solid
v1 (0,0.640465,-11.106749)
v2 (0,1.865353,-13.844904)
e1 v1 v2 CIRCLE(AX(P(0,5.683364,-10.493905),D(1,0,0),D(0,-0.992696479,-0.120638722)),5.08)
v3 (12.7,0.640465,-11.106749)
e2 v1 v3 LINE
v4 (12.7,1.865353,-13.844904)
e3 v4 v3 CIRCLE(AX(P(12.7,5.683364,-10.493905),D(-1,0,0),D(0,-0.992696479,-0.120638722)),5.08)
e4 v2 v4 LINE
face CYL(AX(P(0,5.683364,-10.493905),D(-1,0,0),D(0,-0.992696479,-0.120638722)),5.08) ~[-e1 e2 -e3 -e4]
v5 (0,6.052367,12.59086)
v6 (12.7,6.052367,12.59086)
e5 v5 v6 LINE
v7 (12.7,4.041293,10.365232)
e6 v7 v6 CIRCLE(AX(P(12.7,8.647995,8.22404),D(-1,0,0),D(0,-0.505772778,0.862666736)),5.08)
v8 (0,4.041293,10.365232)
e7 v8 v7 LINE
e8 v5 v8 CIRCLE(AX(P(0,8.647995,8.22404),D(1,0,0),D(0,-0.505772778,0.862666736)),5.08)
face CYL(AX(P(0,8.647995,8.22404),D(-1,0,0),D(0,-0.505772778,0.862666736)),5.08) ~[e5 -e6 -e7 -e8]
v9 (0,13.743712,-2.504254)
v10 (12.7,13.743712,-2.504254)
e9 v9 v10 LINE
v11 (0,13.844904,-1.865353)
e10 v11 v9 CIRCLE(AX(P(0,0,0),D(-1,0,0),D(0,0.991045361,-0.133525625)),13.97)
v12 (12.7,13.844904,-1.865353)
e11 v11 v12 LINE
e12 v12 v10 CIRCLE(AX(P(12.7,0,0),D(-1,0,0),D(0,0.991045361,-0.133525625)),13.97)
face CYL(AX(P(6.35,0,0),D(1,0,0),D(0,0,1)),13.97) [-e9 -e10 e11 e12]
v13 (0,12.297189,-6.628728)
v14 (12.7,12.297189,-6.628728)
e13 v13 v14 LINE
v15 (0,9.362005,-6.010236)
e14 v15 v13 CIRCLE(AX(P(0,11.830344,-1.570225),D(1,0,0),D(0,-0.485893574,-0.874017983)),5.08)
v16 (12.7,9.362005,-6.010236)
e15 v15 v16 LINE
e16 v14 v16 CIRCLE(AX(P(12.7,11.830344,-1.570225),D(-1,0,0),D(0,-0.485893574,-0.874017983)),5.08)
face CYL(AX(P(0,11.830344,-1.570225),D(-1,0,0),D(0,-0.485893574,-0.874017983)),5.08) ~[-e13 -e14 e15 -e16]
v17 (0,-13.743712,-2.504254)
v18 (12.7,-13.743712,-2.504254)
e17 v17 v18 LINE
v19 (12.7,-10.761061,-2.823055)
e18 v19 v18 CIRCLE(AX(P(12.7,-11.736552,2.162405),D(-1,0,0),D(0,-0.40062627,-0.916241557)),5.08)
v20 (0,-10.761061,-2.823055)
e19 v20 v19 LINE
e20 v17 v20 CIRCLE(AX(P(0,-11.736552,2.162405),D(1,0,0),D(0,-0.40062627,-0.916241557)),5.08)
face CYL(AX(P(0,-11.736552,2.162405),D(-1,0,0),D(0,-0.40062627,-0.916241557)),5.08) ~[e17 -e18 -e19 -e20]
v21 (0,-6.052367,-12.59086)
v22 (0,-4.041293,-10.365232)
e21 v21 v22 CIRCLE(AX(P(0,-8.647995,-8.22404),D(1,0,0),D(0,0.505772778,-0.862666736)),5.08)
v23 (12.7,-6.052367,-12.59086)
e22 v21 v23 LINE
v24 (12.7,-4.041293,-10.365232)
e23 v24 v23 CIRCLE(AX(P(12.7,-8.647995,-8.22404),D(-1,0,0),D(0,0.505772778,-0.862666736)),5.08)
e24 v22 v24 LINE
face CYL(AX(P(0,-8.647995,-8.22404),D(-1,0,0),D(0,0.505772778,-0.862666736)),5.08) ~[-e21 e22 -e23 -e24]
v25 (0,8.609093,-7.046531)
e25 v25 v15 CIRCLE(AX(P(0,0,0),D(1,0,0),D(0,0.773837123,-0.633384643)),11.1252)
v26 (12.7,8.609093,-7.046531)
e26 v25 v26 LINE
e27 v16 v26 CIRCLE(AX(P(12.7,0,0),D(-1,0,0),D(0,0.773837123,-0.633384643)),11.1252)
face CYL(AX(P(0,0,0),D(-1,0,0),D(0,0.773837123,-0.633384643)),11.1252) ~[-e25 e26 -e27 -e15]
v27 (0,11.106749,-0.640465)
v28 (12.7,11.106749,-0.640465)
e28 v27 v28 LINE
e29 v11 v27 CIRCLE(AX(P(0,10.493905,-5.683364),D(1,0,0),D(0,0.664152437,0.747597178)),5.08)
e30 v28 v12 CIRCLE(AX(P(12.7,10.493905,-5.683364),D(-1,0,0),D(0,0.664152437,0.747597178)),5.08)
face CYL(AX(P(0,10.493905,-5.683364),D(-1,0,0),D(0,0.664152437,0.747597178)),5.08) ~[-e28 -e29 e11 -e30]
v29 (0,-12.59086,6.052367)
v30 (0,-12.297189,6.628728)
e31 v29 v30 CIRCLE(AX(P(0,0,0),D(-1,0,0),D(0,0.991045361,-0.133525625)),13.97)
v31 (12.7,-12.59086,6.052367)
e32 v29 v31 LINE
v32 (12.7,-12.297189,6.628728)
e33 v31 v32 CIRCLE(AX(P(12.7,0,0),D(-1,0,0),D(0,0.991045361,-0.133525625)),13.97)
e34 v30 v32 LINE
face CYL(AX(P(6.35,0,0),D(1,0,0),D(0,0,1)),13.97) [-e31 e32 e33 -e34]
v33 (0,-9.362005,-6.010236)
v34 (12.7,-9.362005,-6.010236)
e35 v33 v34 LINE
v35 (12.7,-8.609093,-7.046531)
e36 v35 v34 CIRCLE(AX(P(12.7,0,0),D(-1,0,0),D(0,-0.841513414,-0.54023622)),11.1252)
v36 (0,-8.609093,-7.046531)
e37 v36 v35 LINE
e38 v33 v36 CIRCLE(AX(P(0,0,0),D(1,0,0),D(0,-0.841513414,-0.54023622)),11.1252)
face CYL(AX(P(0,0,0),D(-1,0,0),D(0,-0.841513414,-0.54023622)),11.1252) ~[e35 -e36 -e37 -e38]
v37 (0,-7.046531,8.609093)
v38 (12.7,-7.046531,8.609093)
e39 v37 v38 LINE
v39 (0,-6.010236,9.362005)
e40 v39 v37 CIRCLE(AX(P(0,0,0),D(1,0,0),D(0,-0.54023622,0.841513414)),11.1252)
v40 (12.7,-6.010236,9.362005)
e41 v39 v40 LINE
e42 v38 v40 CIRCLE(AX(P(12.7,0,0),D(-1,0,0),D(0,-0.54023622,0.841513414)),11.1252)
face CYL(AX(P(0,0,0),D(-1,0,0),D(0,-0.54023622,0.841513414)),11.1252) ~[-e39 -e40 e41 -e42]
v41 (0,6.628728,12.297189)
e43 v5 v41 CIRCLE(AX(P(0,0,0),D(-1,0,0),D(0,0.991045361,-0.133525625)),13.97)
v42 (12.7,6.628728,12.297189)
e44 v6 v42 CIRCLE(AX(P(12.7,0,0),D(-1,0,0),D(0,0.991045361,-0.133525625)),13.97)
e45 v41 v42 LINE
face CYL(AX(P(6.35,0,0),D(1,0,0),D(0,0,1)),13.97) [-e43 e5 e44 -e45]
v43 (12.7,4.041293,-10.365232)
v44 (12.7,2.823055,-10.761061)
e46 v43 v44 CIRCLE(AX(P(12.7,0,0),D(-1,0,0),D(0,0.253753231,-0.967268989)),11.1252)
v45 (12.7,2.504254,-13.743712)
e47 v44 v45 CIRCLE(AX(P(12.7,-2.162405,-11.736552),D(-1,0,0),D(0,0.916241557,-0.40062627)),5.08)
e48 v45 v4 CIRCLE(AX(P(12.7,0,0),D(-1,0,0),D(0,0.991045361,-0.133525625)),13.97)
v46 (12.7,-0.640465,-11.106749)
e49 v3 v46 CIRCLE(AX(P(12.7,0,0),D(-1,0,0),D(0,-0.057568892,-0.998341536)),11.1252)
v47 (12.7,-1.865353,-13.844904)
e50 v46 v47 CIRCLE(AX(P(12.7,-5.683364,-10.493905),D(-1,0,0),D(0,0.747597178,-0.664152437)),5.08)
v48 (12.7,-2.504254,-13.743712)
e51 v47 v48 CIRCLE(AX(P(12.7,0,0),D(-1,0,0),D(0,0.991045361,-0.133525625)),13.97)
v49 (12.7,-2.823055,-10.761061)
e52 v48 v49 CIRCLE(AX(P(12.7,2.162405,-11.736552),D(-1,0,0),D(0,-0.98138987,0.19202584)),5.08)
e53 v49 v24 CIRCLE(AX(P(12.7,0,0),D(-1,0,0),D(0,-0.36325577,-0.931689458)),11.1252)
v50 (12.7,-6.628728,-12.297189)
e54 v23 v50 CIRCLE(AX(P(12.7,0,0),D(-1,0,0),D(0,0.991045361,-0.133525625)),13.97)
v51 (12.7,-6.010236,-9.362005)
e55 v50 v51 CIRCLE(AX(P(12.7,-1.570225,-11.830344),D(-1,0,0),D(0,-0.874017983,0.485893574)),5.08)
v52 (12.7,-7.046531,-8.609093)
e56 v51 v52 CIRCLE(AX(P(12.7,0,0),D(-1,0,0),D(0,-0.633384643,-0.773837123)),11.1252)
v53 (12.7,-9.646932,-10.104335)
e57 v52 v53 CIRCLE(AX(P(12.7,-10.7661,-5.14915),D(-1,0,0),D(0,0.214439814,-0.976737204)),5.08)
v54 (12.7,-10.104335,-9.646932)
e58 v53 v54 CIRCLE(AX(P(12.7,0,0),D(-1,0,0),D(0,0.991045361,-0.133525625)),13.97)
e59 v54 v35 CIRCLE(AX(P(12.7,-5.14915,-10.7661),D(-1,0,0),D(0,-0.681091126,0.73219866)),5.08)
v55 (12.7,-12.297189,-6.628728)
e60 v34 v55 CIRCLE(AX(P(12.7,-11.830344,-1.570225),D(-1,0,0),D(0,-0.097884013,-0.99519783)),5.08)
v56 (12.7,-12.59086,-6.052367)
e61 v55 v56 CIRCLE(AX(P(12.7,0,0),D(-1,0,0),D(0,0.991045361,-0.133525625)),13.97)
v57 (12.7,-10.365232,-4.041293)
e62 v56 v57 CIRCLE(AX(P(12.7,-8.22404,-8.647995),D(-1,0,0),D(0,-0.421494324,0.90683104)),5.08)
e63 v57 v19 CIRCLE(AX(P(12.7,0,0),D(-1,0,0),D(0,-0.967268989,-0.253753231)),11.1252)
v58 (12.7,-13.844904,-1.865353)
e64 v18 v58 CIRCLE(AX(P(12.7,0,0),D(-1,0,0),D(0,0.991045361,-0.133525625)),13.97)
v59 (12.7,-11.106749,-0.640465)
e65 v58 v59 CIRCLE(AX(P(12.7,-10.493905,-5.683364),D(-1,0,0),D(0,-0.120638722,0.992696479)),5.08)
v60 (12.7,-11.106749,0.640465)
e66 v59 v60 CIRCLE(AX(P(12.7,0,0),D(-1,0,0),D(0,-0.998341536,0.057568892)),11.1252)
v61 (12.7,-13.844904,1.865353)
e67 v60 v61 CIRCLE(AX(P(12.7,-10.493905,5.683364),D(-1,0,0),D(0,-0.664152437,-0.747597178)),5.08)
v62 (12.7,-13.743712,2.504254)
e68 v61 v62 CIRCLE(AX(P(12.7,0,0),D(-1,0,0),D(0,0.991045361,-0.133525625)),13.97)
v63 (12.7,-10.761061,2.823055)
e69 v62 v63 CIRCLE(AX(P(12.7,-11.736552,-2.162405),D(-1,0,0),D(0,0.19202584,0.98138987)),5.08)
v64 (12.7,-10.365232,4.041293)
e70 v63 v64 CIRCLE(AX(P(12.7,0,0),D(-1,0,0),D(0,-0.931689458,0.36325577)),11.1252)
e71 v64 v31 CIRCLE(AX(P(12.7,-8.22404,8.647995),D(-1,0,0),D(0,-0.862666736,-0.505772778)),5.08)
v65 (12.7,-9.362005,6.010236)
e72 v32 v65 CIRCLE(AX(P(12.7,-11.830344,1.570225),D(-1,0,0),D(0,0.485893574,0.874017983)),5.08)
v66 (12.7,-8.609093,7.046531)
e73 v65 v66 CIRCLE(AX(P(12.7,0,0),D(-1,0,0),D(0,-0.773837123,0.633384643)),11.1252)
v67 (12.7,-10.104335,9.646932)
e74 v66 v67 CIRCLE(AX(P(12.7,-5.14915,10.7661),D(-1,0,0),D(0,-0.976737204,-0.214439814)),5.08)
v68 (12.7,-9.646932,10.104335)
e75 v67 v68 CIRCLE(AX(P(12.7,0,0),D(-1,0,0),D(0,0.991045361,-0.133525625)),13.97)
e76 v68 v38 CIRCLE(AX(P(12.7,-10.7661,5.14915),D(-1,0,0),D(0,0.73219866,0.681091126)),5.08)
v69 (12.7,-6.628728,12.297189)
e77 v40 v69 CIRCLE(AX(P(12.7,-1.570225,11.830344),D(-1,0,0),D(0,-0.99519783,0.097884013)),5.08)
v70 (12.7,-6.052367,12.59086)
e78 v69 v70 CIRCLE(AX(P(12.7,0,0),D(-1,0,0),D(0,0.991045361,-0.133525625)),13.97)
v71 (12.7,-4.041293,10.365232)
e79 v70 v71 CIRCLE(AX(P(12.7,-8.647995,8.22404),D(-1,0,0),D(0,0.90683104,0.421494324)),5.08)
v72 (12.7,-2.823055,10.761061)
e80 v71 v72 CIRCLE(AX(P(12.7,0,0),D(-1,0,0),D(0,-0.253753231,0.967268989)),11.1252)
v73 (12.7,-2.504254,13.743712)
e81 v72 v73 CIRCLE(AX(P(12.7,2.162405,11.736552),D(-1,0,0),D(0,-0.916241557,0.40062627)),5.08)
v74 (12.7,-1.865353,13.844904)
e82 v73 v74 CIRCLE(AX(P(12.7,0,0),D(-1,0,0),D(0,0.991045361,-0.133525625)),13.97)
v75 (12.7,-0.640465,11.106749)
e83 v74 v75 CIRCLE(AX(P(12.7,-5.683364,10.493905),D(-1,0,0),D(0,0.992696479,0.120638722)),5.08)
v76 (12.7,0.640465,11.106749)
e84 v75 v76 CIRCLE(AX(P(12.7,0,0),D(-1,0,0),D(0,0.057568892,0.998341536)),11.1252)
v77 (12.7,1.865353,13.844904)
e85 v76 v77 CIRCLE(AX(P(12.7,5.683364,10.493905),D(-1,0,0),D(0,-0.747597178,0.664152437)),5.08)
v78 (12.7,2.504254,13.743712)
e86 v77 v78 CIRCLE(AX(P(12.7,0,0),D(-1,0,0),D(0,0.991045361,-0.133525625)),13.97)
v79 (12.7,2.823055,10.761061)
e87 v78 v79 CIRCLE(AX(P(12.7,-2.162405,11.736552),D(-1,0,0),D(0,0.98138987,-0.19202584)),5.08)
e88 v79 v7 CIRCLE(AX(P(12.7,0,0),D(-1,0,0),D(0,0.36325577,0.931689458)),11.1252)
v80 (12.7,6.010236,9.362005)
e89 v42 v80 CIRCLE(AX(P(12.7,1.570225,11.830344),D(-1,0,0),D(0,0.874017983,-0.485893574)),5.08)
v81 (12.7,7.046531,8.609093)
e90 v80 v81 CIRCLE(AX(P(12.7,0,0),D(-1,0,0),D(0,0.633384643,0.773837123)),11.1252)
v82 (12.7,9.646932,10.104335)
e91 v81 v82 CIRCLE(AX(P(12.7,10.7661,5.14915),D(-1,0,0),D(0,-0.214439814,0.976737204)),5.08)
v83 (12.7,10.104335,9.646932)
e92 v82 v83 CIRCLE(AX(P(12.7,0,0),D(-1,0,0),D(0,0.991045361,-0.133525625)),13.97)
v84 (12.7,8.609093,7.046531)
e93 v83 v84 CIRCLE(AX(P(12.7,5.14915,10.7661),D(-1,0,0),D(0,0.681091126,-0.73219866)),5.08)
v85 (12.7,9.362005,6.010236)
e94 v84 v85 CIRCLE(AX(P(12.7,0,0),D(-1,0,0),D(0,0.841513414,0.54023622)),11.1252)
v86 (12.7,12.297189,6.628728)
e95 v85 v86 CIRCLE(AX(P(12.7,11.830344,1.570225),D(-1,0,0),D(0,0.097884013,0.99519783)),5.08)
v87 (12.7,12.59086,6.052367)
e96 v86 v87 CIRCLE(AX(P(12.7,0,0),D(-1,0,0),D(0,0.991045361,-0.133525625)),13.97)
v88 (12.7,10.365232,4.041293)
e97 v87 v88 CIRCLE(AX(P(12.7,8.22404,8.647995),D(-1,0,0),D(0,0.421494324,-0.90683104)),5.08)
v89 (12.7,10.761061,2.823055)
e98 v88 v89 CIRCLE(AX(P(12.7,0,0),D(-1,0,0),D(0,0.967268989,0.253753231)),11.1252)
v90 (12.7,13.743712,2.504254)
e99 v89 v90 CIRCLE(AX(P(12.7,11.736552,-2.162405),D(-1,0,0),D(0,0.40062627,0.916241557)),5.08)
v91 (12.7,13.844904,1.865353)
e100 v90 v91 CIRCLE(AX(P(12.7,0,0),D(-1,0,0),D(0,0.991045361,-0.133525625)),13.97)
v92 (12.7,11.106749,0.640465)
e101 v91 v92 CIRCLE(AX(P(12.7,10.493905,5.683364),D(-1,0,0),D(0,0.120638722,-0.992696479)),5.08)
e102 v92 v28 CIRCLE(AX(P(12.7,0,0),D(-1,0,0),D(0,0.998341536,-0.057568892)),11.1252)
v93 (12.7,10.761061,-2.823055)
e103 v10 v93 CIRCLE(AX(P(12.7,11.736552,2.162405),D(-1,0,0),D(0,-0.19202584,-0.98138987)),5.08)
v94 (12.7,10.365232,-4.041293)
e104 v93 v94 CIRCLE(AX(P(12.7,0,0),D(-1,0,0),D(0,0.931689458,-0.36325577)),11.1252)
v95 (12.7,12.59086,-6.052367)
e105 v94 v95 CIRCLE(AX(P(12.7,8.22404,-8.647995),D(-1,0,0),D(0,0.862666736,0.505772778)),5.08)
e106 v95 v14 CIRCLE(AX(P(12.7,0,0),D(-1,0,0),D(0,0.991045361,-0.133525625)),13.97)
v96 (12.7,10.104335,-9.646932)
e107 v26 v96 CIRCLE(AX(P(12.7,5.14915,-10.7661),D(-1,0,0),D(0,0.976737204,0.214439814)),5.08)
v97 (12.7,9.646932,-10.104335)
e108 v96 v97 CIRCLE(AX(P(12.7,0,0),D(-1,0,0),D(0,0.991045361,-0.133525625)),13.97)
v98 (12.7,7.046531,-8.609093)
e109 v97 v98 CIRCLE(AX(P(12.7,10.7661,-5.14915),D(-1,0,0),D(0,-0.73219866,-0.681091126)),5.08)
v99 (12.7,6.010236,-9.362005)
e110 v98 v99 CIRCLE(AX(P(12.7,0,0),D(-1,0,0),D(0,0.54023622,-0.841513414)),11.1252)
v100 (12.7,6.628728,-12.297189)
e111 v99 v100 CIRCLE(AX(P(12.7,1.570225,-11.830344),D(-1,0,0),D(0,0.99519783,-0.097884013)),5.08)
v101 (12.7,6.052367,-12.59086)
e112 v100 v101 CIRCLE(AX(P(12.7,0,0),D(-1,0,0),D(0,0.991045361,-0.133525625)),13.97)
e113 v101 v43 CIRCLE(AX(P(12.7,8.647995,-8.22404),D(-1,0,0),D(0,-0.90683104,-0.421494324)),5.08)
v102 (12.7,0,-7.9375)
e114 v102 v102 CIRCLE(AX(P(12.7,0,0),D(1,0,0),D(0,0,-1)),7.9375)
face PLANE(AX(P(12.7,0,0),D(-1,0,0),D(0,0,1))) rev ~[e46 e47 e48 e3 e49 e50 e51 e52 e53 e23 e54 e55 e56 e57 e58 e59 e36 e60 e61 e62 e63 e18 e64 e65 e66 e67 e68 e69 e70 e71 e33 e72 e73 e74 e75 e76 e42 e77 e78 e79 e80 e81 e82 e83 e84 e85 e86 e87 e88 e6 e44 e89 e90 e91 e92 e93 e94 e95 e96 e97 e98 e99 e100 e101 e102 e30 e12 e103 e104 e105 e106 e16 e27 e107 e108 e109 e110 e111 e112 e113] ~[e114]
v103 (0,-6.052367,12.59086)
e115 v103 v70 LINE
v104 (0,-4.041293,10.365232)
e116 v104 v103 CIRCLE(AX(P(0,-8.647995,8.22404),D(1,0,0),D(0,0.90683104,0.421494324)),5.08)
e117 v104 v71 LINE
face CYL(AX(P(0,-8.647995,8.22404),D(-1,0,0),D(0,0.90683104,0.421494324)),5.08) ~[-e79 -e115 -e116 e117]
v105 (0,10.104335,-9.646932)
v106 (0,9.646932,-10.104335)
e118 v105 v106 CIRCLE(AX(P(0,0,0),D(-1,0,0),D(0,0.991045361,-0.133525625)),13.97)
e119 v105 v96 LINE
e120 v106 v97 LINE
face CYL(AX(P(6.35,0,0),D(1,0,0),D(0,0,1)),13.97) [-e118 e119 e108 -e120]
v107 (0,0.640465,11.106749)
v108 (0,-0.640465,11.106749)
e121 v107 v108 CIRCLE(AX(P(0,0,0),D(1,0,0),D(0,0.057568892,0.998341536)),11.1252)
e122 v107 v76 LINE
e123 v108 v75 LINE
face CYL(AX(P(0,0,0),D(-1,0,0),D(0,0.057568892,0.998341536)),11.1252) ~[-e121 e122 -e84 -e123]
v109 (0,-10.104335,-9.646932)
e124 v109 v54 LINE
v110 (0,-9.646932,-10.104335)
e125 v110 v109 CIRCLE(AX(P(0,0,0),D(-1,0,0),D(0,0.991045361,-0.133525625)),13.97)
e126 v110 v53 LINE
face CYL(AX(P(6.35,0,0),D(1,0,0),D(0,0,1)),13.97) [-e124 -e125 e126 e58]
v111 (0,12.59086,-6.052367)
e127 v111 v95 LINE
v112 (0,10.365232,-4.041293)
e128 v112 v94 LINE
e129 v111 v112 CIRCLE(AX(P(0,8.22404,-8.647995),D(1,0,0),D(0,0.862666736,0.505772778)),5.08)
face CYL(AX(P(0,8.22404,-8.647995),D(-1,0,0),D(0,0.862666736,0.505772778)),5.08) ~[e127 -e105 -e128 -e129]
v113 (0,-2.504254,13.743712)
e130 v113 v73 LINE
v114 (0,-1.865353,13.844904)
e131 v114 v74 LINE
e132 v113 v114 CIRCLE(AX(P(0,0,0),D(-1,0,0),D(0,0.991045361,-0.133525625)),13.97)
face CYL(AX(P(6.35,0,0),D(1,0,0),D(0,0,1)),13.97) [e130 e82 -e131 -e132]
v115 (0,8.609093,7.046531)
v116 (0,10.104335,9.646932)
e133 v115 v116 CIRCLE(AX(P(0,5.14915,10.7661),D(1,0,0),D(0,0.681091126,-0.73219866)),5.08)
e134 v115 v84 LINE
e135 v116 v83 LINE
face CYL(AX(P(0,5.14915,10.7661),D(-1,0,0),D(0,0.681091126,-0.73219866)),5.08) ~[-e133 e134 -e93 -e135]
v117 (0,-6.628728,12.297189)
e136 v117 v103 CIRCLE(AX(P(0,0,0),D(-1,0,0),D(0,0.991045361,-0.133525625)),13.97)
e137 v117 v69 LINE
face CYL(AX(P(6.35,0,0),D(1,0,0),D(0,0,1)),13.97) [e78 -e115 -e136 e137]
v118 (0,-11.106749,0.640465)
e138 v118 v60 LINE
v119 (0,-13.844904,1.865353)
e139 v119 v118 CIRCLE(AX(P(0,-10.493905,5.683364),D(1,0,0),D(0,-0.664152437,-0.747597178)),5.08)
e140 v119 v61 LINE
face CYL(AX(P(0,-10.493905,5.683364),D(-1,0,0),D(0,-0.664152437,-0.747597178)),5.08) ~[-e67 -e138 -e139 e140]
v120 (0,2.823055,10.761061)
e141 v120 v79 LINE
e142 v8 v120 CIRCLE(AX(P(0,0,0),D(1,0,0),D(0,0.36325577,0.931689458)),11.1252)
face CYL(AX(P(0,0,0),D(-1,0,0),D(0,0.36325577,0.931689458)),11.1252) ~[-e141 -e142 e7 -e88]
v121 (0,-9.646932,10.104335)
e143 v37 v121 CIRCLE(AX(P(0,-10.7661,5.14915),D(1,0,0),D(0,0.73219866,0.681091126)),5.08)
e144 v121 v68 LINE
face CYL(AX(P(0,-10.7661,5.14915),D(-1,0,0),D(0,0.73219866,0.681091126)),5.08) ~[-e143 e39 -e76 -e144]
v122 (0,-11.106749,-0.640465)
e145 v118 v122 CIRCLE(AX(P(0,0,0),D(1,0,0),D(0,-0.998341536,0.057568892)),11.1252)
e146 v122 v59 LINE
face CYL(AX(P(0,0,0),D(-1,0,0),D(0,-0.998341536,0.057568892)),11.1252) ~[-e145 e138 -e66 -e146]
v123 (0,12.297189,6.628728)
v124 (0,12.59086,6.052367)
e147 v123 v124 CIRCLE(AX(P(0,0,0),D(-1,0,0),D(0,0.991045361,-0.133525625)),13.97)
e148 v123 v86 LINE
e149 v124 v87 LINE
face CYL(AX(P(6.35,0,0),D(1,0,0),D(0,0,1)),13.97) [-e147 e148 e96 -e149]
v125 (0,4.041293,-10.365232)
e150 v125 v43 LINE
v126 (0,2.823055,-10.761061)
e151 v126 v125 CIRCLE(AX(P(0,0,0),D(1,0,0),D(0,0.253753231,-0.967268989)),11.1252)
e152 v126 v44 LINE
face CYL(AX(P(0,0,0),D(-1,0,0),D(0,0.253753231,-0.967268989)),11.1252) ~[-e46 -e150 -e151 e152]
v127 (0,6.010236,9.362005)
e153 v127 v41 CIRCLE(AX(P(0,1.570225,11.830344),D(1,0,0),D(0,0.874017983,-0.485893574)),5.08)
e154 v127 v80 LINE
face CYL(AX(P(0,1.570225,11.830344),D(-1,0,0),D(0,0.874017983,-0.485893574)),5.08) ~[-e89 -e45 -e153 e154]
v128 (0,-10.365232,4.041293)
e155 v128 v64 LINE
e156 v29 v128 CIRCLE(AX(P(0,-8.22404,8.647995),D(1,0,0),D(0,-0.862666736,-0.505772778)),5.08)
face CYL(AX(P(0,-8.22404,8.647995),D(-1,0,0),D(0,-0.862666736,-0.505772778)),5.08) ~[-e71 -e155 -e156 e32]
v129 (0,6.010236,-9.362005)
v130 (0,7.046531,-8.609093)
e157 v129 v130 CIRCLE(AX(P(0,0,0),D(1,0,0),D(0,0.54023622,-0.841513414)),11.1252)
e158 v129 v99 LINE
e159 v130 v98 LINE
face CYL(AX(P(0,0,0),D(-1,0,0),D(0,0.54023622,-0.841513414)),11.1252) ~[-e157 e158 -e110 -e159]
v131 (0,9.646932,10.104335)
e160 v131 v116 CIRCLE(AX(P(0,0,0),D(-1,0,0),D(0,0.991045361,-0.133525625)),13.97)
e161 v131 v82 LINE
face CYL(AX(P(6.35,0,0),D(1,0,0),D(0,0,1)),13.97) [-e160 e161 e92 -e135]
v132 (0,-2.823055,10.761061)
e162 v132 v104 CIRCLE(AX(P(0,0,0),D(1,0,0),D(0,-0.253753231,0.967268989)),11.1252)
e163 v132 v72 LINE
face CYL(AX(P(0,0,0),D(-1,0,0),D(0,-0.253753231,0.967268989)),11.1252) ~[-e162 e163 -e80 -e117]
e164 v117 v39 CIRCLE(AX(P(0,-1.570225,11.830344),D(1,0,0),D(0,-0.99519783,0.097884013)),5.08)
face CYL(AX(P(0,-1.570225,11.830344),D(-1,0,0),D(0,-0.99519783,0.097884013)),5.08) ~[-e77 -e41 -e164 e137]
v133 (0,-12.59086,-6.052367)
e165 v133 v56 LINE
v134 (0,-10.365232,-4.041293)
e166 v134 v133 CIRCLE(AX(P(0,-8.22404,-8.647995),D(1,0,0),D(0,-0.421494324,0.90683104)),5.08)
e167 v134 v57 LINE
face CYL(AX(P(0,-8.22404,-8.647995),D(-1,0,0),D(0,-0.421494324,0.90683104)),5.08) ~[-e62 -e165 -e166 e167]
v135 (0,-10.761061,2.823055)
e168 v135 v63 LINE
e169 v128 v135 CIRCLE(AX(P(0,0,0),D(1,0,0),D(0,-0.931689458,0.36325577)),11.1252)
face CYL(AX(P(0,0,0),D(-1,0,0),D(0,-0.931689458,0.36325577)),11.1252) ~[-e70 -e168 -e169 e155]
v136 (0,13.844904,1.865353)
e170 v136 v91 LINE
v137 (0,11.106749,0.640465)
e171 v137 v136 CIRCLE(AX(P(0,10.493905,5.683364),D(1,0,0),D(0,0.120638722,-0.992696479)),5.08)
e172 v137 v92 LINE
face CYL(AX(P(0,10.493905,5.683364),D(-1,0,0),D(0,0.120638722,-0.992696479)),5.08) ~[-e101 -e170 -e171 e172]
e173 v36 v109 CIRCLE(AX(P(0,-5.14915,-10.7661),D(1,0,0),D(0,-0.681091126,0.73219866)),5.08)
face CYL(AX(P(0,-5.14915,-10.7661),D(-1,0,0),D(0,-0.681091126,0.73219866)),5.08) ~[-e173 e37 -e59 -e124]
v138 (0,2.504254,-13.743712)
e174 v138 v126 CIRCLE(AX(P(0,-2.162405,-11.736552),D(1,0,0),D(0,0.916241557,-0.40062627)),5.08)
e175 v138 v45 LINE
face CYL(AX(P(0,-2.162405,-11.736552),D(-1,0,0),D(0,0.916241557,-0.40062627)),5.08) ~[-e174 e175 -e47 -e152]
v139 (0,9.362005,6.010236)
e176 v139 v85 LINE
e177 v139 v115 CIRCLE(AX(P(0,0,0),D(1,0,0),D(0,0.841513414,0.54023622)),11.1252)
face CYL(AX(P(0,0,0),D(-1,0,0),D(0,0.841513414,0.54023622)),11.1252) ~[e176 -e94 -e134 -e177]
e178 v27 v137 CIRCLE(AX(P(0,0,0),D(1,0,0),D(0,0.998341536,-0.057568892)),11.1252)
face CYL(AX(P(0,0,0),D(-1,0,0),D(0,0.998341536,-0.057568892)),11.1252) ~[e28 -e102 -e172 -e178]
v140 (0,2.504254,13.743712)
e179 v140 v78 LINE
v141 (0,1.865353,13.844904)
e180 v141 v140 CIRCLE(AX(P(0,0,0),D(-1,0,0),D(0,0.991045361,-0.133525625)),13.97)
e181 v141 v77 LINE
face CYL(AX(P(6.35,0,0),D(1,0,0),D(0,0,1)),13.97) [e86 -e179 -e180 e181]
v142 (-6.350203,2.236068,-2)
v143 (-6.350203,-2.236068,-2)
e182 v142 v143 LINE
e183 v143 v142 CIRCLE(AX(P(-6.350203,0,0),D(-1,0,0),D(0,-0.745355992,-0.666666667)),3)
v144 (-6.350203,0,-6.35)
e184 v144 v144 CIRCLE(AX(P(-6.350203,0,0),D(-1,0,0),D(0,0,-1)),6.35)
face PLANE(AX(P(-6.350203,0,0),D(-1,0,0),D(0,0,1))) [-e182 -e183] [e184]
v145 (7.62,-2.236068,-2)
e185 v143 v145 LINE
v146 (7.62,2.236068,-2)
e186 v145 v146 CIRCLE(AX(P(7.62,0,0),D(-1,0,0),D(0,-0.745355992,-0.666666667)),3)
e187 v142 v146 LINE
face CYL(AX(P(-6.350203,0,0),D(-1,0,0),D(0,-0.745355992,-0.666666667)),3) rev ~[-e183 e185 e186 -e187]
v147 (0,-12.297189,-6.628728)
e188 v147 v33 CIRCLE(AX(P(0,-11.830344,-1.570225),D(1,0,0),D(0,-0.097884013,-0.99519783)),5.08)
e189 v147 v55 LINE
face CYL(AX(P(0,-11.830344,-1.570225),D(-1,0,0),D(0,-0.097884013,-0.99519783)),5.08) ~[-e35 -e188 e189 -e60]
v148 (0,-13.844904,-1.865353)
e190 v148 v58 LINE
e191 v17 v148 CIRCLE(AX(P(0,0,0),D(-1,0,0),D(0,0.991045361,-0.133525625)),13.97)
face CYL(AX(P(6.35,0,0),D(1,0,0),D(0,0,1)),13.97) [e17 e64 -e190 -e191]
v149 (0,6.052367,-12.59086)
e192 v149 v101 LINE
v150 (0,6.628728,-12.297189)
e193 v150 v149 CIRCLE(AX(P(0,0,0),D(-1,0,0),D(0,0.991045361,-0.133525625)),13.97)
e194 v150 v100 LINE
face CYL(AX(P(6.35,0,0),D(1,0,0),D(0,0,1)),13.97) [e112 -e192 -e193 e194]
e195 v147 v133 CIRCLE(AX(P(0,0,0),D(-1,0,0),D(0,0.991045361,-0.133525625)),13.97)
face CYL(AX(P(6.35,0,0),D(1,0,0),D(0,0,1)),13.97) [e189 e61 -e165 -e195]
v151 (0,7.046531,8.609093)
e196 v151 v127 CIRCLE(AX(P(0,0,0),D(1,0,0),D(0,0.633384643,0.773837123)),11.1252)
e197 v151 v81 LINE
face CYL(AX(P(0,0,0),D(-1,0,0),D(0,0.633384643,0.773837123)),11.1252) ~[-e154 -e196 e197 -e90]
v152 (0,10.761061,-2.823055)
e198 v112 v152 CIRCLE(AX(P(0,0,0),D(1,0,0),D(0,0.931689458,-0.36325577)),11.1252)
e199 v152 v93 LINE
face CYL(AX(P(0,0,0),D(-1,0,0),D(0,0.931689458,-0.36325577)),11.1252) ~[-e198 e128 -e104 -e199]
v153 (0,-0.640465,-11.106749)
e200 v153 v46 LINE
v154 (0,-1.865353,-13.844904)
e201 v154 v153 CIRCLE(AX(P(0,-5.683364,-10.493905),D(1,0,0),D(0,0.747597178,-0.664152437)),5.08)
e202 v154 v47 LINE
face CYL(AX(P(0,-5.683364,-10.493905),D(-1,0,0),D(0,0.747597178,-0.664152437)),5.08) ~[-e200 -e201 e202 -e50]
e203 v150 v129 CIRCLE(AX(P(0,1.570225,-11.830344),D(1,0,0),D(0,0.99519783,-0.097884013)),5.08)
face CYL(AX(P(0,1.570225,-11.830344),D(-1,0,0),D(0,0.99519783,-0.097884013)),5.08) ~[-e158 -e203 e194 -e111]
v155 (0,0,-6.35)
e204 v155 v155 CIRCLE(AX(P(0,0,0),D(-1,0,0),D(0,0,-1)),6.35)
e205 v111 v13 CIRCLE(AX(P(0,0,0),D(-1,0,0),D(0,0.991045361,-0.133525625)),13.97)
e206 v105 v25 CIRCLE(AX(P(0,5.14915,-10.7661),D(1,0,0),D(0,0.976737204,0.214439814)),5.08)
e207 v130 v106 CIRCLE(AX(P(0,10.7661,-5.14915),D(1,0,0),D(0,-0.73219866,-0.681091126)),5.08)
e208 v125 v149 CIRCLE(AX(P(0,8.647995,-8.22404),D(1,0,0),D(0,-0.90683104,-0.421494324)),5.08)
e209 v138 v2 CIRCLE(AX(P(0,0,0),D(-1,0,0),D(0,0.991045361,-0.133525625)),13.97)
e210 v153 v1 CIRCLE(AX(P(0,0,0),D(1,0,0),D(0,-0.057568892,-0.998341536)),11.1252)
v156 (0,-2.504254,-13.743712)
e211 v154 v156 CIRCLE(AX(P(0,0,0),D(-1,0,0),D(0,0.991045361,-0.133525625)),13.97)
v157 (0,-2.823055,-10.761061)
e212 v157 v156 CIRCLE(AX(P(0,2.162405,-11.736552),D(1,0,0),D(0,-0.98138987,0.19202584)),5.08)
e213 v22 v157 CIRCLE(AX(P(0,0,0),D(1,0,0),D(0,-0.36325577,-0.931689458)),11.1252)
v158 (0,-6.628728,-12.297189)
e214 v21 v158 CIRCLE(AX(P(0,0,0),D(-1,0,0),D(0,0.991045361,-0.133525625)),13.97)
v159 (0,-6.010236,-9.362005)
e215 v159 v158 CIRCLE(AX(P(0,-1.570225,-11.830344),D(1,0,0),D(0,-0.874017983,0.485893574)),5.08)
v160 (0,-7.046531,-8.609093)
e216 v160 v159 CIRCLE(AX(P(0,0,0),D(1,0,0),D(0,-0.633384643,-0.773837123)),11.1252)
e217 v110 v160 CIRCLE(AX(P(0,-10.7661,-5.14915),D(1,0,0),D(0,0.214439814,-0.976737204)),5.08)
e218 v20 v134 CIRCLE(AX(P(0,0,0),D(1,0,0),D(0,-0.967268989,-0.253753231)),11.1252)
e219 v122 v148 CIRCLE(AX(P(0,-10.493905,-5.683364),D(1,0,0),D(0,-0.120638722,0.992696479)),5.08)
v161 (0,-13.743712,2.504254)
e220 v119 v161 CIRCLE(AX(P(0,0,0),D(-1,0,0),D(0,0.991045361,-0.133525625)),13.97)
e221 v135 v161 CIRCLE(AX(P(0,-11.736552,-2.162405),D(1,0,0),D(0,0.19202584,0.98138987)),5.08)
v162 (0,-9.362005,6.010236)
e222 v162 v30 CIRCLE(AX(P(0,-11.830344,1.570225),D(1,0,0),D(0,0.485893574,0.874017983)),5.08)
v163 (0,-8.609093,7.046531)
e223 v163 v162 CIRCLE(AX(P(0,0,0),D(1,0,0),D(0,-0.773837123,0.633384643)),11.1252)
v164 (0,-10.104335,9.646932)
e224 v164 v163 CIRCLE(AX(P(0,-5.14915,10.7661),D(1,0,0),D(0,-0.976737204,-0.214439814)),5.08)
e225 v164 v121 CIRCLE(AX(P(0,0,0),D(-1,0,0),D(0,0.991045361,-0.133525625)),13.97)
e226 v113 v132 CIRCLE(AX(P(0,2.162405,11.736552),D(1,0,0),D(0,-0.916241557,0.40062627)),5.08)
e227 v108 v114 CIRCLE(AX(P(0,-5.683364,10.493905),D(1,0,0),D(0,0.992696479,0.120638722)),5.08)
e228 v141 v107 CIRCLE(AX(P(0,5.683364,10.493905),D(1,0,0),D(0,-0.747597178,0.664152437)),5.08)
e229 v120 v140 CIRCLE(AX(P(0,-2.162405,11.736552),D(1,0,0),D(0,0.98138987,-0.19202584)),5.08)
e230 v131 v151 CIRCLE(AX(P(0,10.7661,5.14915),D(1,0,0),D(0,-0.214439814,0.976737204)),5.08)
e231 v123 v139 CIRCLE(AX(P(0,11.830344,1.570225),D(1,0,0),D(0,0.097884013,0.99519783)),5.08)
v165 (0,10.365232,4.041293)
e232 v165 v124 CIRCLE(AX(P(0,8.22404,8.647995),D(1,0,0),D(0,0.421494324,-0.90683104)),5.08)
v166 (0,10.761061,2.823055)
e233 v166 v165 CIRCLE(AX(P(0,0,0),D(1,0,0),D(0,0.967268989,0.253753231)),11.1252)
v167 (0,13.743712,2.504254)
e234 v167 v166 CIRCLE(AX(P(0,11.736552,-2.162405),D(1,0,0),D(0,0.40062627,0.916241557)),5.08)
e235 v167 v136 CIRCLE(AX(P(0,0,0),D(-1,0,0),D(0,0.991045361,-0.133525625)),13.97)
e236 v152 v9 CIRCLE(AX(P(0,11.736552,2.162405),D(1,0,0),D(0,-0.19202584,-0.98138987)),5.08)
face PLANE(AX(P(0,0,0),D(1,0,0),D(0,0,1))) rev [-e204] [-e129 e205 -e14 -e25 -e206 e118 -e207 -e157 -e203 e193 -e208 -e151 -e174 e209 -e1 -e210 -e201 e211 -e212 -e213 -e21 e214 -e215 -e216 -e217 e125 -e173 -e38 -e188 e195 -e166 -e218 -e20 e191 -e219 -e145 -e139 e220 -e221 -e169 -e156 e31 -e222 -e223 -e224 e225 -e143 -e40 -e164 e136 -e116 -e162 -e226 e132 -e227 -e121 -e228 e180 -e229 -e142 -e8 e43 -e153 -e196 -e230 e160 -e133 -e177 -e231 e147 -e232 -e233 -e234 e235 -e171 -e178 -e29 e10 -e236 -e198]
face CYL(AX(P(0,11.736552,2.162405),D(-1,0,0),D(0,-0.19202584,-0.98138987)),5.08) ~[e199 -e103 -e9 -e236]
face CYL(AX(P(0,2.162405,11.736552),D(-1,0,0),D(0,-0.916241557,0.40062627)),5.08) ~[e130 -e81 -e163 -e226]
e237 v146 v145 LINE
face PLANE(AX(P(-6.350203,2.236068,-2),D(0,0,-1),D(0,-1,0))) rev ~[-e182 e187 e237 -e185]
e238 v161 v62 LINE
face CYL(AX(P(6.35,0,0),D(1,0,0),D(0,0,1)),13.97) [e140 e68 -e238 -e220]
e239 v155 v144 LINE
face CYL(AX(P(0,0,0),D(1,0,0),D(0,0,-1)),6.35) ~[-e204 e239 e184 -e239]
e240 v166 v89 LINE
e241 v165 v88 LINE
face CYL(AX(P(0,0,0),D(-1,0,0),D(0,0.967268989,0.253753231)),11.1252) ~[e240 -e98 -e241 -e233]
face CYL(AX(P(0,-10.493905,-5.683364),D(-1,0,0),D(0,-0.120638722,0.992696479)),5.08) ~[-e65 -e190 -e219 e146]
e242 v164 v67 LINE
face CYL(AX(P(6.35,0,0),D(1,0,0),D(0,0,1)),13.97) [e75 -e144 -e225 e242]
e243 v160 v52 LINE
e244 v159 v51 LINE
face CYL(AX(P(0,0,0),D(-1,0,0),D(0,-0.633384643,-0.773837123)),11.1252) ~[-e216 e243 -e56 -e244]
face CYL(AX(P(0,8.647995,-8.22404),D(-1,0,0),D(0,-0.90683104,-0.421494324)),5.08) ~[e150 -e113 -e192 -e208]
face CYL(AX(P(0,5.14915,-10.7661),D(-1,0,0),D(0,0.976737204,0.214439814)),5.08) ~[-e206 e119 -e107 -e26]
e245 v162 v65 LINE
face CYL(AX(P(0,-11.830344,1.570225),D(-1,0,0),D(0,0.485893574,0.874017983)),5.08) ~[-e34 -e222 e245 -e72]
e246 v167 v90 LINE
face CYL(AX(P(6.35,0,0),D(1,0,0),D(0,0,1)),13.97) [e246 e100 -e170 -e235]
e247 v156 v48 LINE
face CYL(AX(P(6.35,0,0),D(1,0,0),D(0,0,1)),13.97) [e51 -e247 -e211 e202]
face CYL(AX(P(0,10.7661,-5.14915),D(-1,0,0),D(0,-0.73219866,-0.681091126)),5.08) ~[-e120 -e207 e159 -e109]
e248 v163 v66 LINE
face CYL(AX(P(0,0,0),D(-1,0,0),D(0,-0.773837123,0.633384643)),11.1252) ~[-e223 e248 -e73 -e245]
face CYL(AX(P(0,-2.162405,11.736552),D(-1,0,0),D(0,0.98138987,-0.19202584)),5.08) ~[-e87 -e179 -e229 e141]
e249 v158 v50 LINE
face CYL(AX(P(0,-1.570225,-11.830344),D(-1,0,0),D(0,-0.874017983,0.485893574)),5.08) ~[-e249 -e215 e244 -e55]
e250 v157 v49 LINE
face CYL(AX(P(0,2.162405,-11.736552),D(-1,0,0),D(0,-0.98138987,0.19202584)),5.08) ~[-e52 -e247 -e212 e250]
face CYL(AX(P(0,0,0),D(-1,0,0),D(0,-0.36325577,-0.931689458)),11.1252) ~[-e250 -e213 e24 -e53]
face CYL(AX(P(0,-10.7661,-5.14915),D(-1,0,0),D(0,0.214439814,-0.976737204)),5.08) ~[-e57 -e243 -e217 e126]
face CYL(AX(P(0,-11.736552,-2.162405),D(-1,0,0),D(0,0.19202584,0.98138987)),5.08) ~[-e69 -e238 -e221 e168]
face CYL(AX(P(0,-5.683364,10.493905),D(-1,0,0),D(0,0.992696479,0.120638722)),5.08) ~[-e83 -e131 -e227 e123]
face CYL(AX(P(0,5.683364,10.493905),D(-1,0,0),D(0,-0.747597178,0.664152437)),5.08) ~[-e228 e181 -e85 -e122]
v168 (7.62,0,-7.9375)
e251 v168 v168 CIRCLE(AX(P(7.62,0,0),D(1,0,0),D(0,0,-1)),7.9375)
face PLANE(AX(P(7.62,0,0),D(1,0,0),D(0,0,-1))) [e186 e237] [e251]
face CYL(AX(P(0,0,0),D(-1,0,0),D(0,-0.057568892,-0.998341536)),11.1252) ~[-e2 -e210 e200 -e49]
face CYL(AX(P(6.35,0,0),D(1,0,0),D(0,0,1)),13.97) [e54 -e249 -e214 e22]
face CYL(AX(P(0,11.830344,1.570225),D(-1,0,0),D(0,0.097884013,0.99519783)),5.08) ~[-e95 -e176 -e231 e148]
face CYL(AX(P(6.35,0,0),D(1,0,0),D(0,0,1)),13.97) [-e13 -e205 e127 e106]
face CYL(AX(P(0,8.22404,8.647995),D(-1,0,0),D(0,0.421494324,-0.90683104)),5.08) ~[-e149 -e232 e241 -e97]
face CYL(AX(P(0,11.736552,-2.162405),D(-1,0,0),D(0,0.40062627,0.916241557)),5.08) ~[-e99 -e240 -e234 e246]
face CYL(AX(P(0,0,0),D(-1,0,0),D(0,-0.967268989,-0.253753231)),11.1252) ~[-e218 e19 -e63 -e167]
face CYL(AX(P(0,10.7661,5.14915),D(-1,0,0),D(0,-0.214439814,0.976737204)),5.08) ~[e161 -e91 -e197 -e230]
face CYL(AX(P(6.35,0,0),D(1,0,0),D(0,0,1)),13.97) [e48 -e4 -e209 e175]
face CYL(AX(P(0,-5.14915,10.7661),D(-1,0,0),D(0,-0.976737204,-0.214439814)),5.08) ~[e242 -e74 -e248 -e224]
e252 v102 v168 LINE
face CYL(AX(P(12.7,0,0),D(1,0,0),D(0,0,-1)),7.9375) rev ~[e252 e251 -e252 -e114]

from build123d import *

# Parameters (mm, degrees)
BASPROSKE_W         = 12.7
BASPROSKE_H         = 13.97
TOOTHCUT_DEPTH      = 24.486417351
TEETHCUTS_COUNT     = 20
HUBNEAONESKE_R      = 6.35
HUBNEARONE_DEPTH    = 6.3502032
BORSKE_R            = 3.175
BORE_DEPTH          = 19.0502032
SKETCH1_R           = 3.175
BOSS_EXTRUDE1_DEPTH = 19.0502032
SKETCH2_R           = 7.9375
CUT_EXTRUDE1_DEPTH  = 5.08


with BuildPart() as part:
    # BasProSke → Base-Revolve (revolve)
    with BuildSketch(Plane(origin=(0, 0, 0), x_dir=(1, 0, 0), z_dir=(0, 1, 0)), mode=Mode.PRIVATE) as base_revolve_sk:
        with Locations((6.35, 6.985)):
            Rectangle(BASPROSKE_W, BASPROSKE_H)
    revolve(base_revolve_sk.sketch.rotate(Axis((-10, 0, 0), (1, 0, 0)), 180), axis=Axis((-10, 0, 0), (1, 0, 0)))

    # TooCutSke → ToothCut (cut, through all)
    with BuildSketch(Plane(origin=(0, 0, 0), x_dir=(0, 0, -1), z_dir=(1, 0, 0))):
        with BuildLine():
            ThreePointArc((0.64046545, 11.106749257), (0, 11.1252), (-0.64046545, 11.106749257))
            ThreePointArc((-0.64046545, 11.106749257), (-1.052455812, 12.582227662), (-1.8855699, 13.867798935))
            ThreePointArc((-1.8855699, 13.867798935), (0, 13.9954), (1.8855699, 13.867798935))
            ThreePointArc((1.8855699, 13.867798935), (1.052455812, 12.582227662), (0.64046545, 11.106749257))
        make_face()
    toothcut = extrude(amount=TOOTHCUT_DEPTH, mode=Mode.SUBTRACT)

    # TeethCuts: ToothCut ×20 about axis
    teethcuts_axis = Axis((-10, 0, 0), (1, 0, 0))
    for i in range(1, TEETHCUTS_COUNT):
        add(toothcut.rotate(teethcuts_axis, i * 360 / TEETHCUTS_COUNT), mode=Mode.SUBTRACT)

    # HubNeaOneSke → HubNearOne (add)
    with BuildSketch(Plane.ZY):
        with Locations(Location((0, 0, 0), (0, 0, 180))):
            Circle(HUBNEAONESKE_R)
    extrude(amount=HUBNEARONE_DEPTH)

    # BorSke → Bore (cut, symmetric)
    with BuildSketch(Plane(origin=(0, 0, 0), x_dir=(0, 0, -1), z_dir=(1, 0, 0))):
        with Locations(Location((0, 0, 0), (0, 0, 180))):
            Circle(BORSKE_R)
    extrude(amount=BORE_DEPTH, both=True, mode=Mode.SUBTRACT)

    # Sketch1 → Boss-Extrude1 (add)
    with BuildSketch(Plane.ZY.offset(6.3502032)):
        Circle(SKETCH1_R)
        with BuildLine():
            Line((-2, 2.236067977), (-2, -2.236067977))
            ThreePointArc((-2, -2.236067977), (3, 0), (-2, 2.236067977))
        make_face(mode=Mode.SUBTRACT)
    extrude(amount=-BOSS_EXTRUDE1_DEPTH)

    # Sketch2 → Cut-Extrude1 (cut)
    with BuildSketch(Plane(origin=(12.7, 0, 0), x_dir=(0, 0, -1), z_dir=(1, 0, 0))):
        Circle(SKETCH2_R)
    extrude(amount=-CUT_EXTRUDE1_DEPTH, mode=Mode.SUBTRACT)


solid = part.part
